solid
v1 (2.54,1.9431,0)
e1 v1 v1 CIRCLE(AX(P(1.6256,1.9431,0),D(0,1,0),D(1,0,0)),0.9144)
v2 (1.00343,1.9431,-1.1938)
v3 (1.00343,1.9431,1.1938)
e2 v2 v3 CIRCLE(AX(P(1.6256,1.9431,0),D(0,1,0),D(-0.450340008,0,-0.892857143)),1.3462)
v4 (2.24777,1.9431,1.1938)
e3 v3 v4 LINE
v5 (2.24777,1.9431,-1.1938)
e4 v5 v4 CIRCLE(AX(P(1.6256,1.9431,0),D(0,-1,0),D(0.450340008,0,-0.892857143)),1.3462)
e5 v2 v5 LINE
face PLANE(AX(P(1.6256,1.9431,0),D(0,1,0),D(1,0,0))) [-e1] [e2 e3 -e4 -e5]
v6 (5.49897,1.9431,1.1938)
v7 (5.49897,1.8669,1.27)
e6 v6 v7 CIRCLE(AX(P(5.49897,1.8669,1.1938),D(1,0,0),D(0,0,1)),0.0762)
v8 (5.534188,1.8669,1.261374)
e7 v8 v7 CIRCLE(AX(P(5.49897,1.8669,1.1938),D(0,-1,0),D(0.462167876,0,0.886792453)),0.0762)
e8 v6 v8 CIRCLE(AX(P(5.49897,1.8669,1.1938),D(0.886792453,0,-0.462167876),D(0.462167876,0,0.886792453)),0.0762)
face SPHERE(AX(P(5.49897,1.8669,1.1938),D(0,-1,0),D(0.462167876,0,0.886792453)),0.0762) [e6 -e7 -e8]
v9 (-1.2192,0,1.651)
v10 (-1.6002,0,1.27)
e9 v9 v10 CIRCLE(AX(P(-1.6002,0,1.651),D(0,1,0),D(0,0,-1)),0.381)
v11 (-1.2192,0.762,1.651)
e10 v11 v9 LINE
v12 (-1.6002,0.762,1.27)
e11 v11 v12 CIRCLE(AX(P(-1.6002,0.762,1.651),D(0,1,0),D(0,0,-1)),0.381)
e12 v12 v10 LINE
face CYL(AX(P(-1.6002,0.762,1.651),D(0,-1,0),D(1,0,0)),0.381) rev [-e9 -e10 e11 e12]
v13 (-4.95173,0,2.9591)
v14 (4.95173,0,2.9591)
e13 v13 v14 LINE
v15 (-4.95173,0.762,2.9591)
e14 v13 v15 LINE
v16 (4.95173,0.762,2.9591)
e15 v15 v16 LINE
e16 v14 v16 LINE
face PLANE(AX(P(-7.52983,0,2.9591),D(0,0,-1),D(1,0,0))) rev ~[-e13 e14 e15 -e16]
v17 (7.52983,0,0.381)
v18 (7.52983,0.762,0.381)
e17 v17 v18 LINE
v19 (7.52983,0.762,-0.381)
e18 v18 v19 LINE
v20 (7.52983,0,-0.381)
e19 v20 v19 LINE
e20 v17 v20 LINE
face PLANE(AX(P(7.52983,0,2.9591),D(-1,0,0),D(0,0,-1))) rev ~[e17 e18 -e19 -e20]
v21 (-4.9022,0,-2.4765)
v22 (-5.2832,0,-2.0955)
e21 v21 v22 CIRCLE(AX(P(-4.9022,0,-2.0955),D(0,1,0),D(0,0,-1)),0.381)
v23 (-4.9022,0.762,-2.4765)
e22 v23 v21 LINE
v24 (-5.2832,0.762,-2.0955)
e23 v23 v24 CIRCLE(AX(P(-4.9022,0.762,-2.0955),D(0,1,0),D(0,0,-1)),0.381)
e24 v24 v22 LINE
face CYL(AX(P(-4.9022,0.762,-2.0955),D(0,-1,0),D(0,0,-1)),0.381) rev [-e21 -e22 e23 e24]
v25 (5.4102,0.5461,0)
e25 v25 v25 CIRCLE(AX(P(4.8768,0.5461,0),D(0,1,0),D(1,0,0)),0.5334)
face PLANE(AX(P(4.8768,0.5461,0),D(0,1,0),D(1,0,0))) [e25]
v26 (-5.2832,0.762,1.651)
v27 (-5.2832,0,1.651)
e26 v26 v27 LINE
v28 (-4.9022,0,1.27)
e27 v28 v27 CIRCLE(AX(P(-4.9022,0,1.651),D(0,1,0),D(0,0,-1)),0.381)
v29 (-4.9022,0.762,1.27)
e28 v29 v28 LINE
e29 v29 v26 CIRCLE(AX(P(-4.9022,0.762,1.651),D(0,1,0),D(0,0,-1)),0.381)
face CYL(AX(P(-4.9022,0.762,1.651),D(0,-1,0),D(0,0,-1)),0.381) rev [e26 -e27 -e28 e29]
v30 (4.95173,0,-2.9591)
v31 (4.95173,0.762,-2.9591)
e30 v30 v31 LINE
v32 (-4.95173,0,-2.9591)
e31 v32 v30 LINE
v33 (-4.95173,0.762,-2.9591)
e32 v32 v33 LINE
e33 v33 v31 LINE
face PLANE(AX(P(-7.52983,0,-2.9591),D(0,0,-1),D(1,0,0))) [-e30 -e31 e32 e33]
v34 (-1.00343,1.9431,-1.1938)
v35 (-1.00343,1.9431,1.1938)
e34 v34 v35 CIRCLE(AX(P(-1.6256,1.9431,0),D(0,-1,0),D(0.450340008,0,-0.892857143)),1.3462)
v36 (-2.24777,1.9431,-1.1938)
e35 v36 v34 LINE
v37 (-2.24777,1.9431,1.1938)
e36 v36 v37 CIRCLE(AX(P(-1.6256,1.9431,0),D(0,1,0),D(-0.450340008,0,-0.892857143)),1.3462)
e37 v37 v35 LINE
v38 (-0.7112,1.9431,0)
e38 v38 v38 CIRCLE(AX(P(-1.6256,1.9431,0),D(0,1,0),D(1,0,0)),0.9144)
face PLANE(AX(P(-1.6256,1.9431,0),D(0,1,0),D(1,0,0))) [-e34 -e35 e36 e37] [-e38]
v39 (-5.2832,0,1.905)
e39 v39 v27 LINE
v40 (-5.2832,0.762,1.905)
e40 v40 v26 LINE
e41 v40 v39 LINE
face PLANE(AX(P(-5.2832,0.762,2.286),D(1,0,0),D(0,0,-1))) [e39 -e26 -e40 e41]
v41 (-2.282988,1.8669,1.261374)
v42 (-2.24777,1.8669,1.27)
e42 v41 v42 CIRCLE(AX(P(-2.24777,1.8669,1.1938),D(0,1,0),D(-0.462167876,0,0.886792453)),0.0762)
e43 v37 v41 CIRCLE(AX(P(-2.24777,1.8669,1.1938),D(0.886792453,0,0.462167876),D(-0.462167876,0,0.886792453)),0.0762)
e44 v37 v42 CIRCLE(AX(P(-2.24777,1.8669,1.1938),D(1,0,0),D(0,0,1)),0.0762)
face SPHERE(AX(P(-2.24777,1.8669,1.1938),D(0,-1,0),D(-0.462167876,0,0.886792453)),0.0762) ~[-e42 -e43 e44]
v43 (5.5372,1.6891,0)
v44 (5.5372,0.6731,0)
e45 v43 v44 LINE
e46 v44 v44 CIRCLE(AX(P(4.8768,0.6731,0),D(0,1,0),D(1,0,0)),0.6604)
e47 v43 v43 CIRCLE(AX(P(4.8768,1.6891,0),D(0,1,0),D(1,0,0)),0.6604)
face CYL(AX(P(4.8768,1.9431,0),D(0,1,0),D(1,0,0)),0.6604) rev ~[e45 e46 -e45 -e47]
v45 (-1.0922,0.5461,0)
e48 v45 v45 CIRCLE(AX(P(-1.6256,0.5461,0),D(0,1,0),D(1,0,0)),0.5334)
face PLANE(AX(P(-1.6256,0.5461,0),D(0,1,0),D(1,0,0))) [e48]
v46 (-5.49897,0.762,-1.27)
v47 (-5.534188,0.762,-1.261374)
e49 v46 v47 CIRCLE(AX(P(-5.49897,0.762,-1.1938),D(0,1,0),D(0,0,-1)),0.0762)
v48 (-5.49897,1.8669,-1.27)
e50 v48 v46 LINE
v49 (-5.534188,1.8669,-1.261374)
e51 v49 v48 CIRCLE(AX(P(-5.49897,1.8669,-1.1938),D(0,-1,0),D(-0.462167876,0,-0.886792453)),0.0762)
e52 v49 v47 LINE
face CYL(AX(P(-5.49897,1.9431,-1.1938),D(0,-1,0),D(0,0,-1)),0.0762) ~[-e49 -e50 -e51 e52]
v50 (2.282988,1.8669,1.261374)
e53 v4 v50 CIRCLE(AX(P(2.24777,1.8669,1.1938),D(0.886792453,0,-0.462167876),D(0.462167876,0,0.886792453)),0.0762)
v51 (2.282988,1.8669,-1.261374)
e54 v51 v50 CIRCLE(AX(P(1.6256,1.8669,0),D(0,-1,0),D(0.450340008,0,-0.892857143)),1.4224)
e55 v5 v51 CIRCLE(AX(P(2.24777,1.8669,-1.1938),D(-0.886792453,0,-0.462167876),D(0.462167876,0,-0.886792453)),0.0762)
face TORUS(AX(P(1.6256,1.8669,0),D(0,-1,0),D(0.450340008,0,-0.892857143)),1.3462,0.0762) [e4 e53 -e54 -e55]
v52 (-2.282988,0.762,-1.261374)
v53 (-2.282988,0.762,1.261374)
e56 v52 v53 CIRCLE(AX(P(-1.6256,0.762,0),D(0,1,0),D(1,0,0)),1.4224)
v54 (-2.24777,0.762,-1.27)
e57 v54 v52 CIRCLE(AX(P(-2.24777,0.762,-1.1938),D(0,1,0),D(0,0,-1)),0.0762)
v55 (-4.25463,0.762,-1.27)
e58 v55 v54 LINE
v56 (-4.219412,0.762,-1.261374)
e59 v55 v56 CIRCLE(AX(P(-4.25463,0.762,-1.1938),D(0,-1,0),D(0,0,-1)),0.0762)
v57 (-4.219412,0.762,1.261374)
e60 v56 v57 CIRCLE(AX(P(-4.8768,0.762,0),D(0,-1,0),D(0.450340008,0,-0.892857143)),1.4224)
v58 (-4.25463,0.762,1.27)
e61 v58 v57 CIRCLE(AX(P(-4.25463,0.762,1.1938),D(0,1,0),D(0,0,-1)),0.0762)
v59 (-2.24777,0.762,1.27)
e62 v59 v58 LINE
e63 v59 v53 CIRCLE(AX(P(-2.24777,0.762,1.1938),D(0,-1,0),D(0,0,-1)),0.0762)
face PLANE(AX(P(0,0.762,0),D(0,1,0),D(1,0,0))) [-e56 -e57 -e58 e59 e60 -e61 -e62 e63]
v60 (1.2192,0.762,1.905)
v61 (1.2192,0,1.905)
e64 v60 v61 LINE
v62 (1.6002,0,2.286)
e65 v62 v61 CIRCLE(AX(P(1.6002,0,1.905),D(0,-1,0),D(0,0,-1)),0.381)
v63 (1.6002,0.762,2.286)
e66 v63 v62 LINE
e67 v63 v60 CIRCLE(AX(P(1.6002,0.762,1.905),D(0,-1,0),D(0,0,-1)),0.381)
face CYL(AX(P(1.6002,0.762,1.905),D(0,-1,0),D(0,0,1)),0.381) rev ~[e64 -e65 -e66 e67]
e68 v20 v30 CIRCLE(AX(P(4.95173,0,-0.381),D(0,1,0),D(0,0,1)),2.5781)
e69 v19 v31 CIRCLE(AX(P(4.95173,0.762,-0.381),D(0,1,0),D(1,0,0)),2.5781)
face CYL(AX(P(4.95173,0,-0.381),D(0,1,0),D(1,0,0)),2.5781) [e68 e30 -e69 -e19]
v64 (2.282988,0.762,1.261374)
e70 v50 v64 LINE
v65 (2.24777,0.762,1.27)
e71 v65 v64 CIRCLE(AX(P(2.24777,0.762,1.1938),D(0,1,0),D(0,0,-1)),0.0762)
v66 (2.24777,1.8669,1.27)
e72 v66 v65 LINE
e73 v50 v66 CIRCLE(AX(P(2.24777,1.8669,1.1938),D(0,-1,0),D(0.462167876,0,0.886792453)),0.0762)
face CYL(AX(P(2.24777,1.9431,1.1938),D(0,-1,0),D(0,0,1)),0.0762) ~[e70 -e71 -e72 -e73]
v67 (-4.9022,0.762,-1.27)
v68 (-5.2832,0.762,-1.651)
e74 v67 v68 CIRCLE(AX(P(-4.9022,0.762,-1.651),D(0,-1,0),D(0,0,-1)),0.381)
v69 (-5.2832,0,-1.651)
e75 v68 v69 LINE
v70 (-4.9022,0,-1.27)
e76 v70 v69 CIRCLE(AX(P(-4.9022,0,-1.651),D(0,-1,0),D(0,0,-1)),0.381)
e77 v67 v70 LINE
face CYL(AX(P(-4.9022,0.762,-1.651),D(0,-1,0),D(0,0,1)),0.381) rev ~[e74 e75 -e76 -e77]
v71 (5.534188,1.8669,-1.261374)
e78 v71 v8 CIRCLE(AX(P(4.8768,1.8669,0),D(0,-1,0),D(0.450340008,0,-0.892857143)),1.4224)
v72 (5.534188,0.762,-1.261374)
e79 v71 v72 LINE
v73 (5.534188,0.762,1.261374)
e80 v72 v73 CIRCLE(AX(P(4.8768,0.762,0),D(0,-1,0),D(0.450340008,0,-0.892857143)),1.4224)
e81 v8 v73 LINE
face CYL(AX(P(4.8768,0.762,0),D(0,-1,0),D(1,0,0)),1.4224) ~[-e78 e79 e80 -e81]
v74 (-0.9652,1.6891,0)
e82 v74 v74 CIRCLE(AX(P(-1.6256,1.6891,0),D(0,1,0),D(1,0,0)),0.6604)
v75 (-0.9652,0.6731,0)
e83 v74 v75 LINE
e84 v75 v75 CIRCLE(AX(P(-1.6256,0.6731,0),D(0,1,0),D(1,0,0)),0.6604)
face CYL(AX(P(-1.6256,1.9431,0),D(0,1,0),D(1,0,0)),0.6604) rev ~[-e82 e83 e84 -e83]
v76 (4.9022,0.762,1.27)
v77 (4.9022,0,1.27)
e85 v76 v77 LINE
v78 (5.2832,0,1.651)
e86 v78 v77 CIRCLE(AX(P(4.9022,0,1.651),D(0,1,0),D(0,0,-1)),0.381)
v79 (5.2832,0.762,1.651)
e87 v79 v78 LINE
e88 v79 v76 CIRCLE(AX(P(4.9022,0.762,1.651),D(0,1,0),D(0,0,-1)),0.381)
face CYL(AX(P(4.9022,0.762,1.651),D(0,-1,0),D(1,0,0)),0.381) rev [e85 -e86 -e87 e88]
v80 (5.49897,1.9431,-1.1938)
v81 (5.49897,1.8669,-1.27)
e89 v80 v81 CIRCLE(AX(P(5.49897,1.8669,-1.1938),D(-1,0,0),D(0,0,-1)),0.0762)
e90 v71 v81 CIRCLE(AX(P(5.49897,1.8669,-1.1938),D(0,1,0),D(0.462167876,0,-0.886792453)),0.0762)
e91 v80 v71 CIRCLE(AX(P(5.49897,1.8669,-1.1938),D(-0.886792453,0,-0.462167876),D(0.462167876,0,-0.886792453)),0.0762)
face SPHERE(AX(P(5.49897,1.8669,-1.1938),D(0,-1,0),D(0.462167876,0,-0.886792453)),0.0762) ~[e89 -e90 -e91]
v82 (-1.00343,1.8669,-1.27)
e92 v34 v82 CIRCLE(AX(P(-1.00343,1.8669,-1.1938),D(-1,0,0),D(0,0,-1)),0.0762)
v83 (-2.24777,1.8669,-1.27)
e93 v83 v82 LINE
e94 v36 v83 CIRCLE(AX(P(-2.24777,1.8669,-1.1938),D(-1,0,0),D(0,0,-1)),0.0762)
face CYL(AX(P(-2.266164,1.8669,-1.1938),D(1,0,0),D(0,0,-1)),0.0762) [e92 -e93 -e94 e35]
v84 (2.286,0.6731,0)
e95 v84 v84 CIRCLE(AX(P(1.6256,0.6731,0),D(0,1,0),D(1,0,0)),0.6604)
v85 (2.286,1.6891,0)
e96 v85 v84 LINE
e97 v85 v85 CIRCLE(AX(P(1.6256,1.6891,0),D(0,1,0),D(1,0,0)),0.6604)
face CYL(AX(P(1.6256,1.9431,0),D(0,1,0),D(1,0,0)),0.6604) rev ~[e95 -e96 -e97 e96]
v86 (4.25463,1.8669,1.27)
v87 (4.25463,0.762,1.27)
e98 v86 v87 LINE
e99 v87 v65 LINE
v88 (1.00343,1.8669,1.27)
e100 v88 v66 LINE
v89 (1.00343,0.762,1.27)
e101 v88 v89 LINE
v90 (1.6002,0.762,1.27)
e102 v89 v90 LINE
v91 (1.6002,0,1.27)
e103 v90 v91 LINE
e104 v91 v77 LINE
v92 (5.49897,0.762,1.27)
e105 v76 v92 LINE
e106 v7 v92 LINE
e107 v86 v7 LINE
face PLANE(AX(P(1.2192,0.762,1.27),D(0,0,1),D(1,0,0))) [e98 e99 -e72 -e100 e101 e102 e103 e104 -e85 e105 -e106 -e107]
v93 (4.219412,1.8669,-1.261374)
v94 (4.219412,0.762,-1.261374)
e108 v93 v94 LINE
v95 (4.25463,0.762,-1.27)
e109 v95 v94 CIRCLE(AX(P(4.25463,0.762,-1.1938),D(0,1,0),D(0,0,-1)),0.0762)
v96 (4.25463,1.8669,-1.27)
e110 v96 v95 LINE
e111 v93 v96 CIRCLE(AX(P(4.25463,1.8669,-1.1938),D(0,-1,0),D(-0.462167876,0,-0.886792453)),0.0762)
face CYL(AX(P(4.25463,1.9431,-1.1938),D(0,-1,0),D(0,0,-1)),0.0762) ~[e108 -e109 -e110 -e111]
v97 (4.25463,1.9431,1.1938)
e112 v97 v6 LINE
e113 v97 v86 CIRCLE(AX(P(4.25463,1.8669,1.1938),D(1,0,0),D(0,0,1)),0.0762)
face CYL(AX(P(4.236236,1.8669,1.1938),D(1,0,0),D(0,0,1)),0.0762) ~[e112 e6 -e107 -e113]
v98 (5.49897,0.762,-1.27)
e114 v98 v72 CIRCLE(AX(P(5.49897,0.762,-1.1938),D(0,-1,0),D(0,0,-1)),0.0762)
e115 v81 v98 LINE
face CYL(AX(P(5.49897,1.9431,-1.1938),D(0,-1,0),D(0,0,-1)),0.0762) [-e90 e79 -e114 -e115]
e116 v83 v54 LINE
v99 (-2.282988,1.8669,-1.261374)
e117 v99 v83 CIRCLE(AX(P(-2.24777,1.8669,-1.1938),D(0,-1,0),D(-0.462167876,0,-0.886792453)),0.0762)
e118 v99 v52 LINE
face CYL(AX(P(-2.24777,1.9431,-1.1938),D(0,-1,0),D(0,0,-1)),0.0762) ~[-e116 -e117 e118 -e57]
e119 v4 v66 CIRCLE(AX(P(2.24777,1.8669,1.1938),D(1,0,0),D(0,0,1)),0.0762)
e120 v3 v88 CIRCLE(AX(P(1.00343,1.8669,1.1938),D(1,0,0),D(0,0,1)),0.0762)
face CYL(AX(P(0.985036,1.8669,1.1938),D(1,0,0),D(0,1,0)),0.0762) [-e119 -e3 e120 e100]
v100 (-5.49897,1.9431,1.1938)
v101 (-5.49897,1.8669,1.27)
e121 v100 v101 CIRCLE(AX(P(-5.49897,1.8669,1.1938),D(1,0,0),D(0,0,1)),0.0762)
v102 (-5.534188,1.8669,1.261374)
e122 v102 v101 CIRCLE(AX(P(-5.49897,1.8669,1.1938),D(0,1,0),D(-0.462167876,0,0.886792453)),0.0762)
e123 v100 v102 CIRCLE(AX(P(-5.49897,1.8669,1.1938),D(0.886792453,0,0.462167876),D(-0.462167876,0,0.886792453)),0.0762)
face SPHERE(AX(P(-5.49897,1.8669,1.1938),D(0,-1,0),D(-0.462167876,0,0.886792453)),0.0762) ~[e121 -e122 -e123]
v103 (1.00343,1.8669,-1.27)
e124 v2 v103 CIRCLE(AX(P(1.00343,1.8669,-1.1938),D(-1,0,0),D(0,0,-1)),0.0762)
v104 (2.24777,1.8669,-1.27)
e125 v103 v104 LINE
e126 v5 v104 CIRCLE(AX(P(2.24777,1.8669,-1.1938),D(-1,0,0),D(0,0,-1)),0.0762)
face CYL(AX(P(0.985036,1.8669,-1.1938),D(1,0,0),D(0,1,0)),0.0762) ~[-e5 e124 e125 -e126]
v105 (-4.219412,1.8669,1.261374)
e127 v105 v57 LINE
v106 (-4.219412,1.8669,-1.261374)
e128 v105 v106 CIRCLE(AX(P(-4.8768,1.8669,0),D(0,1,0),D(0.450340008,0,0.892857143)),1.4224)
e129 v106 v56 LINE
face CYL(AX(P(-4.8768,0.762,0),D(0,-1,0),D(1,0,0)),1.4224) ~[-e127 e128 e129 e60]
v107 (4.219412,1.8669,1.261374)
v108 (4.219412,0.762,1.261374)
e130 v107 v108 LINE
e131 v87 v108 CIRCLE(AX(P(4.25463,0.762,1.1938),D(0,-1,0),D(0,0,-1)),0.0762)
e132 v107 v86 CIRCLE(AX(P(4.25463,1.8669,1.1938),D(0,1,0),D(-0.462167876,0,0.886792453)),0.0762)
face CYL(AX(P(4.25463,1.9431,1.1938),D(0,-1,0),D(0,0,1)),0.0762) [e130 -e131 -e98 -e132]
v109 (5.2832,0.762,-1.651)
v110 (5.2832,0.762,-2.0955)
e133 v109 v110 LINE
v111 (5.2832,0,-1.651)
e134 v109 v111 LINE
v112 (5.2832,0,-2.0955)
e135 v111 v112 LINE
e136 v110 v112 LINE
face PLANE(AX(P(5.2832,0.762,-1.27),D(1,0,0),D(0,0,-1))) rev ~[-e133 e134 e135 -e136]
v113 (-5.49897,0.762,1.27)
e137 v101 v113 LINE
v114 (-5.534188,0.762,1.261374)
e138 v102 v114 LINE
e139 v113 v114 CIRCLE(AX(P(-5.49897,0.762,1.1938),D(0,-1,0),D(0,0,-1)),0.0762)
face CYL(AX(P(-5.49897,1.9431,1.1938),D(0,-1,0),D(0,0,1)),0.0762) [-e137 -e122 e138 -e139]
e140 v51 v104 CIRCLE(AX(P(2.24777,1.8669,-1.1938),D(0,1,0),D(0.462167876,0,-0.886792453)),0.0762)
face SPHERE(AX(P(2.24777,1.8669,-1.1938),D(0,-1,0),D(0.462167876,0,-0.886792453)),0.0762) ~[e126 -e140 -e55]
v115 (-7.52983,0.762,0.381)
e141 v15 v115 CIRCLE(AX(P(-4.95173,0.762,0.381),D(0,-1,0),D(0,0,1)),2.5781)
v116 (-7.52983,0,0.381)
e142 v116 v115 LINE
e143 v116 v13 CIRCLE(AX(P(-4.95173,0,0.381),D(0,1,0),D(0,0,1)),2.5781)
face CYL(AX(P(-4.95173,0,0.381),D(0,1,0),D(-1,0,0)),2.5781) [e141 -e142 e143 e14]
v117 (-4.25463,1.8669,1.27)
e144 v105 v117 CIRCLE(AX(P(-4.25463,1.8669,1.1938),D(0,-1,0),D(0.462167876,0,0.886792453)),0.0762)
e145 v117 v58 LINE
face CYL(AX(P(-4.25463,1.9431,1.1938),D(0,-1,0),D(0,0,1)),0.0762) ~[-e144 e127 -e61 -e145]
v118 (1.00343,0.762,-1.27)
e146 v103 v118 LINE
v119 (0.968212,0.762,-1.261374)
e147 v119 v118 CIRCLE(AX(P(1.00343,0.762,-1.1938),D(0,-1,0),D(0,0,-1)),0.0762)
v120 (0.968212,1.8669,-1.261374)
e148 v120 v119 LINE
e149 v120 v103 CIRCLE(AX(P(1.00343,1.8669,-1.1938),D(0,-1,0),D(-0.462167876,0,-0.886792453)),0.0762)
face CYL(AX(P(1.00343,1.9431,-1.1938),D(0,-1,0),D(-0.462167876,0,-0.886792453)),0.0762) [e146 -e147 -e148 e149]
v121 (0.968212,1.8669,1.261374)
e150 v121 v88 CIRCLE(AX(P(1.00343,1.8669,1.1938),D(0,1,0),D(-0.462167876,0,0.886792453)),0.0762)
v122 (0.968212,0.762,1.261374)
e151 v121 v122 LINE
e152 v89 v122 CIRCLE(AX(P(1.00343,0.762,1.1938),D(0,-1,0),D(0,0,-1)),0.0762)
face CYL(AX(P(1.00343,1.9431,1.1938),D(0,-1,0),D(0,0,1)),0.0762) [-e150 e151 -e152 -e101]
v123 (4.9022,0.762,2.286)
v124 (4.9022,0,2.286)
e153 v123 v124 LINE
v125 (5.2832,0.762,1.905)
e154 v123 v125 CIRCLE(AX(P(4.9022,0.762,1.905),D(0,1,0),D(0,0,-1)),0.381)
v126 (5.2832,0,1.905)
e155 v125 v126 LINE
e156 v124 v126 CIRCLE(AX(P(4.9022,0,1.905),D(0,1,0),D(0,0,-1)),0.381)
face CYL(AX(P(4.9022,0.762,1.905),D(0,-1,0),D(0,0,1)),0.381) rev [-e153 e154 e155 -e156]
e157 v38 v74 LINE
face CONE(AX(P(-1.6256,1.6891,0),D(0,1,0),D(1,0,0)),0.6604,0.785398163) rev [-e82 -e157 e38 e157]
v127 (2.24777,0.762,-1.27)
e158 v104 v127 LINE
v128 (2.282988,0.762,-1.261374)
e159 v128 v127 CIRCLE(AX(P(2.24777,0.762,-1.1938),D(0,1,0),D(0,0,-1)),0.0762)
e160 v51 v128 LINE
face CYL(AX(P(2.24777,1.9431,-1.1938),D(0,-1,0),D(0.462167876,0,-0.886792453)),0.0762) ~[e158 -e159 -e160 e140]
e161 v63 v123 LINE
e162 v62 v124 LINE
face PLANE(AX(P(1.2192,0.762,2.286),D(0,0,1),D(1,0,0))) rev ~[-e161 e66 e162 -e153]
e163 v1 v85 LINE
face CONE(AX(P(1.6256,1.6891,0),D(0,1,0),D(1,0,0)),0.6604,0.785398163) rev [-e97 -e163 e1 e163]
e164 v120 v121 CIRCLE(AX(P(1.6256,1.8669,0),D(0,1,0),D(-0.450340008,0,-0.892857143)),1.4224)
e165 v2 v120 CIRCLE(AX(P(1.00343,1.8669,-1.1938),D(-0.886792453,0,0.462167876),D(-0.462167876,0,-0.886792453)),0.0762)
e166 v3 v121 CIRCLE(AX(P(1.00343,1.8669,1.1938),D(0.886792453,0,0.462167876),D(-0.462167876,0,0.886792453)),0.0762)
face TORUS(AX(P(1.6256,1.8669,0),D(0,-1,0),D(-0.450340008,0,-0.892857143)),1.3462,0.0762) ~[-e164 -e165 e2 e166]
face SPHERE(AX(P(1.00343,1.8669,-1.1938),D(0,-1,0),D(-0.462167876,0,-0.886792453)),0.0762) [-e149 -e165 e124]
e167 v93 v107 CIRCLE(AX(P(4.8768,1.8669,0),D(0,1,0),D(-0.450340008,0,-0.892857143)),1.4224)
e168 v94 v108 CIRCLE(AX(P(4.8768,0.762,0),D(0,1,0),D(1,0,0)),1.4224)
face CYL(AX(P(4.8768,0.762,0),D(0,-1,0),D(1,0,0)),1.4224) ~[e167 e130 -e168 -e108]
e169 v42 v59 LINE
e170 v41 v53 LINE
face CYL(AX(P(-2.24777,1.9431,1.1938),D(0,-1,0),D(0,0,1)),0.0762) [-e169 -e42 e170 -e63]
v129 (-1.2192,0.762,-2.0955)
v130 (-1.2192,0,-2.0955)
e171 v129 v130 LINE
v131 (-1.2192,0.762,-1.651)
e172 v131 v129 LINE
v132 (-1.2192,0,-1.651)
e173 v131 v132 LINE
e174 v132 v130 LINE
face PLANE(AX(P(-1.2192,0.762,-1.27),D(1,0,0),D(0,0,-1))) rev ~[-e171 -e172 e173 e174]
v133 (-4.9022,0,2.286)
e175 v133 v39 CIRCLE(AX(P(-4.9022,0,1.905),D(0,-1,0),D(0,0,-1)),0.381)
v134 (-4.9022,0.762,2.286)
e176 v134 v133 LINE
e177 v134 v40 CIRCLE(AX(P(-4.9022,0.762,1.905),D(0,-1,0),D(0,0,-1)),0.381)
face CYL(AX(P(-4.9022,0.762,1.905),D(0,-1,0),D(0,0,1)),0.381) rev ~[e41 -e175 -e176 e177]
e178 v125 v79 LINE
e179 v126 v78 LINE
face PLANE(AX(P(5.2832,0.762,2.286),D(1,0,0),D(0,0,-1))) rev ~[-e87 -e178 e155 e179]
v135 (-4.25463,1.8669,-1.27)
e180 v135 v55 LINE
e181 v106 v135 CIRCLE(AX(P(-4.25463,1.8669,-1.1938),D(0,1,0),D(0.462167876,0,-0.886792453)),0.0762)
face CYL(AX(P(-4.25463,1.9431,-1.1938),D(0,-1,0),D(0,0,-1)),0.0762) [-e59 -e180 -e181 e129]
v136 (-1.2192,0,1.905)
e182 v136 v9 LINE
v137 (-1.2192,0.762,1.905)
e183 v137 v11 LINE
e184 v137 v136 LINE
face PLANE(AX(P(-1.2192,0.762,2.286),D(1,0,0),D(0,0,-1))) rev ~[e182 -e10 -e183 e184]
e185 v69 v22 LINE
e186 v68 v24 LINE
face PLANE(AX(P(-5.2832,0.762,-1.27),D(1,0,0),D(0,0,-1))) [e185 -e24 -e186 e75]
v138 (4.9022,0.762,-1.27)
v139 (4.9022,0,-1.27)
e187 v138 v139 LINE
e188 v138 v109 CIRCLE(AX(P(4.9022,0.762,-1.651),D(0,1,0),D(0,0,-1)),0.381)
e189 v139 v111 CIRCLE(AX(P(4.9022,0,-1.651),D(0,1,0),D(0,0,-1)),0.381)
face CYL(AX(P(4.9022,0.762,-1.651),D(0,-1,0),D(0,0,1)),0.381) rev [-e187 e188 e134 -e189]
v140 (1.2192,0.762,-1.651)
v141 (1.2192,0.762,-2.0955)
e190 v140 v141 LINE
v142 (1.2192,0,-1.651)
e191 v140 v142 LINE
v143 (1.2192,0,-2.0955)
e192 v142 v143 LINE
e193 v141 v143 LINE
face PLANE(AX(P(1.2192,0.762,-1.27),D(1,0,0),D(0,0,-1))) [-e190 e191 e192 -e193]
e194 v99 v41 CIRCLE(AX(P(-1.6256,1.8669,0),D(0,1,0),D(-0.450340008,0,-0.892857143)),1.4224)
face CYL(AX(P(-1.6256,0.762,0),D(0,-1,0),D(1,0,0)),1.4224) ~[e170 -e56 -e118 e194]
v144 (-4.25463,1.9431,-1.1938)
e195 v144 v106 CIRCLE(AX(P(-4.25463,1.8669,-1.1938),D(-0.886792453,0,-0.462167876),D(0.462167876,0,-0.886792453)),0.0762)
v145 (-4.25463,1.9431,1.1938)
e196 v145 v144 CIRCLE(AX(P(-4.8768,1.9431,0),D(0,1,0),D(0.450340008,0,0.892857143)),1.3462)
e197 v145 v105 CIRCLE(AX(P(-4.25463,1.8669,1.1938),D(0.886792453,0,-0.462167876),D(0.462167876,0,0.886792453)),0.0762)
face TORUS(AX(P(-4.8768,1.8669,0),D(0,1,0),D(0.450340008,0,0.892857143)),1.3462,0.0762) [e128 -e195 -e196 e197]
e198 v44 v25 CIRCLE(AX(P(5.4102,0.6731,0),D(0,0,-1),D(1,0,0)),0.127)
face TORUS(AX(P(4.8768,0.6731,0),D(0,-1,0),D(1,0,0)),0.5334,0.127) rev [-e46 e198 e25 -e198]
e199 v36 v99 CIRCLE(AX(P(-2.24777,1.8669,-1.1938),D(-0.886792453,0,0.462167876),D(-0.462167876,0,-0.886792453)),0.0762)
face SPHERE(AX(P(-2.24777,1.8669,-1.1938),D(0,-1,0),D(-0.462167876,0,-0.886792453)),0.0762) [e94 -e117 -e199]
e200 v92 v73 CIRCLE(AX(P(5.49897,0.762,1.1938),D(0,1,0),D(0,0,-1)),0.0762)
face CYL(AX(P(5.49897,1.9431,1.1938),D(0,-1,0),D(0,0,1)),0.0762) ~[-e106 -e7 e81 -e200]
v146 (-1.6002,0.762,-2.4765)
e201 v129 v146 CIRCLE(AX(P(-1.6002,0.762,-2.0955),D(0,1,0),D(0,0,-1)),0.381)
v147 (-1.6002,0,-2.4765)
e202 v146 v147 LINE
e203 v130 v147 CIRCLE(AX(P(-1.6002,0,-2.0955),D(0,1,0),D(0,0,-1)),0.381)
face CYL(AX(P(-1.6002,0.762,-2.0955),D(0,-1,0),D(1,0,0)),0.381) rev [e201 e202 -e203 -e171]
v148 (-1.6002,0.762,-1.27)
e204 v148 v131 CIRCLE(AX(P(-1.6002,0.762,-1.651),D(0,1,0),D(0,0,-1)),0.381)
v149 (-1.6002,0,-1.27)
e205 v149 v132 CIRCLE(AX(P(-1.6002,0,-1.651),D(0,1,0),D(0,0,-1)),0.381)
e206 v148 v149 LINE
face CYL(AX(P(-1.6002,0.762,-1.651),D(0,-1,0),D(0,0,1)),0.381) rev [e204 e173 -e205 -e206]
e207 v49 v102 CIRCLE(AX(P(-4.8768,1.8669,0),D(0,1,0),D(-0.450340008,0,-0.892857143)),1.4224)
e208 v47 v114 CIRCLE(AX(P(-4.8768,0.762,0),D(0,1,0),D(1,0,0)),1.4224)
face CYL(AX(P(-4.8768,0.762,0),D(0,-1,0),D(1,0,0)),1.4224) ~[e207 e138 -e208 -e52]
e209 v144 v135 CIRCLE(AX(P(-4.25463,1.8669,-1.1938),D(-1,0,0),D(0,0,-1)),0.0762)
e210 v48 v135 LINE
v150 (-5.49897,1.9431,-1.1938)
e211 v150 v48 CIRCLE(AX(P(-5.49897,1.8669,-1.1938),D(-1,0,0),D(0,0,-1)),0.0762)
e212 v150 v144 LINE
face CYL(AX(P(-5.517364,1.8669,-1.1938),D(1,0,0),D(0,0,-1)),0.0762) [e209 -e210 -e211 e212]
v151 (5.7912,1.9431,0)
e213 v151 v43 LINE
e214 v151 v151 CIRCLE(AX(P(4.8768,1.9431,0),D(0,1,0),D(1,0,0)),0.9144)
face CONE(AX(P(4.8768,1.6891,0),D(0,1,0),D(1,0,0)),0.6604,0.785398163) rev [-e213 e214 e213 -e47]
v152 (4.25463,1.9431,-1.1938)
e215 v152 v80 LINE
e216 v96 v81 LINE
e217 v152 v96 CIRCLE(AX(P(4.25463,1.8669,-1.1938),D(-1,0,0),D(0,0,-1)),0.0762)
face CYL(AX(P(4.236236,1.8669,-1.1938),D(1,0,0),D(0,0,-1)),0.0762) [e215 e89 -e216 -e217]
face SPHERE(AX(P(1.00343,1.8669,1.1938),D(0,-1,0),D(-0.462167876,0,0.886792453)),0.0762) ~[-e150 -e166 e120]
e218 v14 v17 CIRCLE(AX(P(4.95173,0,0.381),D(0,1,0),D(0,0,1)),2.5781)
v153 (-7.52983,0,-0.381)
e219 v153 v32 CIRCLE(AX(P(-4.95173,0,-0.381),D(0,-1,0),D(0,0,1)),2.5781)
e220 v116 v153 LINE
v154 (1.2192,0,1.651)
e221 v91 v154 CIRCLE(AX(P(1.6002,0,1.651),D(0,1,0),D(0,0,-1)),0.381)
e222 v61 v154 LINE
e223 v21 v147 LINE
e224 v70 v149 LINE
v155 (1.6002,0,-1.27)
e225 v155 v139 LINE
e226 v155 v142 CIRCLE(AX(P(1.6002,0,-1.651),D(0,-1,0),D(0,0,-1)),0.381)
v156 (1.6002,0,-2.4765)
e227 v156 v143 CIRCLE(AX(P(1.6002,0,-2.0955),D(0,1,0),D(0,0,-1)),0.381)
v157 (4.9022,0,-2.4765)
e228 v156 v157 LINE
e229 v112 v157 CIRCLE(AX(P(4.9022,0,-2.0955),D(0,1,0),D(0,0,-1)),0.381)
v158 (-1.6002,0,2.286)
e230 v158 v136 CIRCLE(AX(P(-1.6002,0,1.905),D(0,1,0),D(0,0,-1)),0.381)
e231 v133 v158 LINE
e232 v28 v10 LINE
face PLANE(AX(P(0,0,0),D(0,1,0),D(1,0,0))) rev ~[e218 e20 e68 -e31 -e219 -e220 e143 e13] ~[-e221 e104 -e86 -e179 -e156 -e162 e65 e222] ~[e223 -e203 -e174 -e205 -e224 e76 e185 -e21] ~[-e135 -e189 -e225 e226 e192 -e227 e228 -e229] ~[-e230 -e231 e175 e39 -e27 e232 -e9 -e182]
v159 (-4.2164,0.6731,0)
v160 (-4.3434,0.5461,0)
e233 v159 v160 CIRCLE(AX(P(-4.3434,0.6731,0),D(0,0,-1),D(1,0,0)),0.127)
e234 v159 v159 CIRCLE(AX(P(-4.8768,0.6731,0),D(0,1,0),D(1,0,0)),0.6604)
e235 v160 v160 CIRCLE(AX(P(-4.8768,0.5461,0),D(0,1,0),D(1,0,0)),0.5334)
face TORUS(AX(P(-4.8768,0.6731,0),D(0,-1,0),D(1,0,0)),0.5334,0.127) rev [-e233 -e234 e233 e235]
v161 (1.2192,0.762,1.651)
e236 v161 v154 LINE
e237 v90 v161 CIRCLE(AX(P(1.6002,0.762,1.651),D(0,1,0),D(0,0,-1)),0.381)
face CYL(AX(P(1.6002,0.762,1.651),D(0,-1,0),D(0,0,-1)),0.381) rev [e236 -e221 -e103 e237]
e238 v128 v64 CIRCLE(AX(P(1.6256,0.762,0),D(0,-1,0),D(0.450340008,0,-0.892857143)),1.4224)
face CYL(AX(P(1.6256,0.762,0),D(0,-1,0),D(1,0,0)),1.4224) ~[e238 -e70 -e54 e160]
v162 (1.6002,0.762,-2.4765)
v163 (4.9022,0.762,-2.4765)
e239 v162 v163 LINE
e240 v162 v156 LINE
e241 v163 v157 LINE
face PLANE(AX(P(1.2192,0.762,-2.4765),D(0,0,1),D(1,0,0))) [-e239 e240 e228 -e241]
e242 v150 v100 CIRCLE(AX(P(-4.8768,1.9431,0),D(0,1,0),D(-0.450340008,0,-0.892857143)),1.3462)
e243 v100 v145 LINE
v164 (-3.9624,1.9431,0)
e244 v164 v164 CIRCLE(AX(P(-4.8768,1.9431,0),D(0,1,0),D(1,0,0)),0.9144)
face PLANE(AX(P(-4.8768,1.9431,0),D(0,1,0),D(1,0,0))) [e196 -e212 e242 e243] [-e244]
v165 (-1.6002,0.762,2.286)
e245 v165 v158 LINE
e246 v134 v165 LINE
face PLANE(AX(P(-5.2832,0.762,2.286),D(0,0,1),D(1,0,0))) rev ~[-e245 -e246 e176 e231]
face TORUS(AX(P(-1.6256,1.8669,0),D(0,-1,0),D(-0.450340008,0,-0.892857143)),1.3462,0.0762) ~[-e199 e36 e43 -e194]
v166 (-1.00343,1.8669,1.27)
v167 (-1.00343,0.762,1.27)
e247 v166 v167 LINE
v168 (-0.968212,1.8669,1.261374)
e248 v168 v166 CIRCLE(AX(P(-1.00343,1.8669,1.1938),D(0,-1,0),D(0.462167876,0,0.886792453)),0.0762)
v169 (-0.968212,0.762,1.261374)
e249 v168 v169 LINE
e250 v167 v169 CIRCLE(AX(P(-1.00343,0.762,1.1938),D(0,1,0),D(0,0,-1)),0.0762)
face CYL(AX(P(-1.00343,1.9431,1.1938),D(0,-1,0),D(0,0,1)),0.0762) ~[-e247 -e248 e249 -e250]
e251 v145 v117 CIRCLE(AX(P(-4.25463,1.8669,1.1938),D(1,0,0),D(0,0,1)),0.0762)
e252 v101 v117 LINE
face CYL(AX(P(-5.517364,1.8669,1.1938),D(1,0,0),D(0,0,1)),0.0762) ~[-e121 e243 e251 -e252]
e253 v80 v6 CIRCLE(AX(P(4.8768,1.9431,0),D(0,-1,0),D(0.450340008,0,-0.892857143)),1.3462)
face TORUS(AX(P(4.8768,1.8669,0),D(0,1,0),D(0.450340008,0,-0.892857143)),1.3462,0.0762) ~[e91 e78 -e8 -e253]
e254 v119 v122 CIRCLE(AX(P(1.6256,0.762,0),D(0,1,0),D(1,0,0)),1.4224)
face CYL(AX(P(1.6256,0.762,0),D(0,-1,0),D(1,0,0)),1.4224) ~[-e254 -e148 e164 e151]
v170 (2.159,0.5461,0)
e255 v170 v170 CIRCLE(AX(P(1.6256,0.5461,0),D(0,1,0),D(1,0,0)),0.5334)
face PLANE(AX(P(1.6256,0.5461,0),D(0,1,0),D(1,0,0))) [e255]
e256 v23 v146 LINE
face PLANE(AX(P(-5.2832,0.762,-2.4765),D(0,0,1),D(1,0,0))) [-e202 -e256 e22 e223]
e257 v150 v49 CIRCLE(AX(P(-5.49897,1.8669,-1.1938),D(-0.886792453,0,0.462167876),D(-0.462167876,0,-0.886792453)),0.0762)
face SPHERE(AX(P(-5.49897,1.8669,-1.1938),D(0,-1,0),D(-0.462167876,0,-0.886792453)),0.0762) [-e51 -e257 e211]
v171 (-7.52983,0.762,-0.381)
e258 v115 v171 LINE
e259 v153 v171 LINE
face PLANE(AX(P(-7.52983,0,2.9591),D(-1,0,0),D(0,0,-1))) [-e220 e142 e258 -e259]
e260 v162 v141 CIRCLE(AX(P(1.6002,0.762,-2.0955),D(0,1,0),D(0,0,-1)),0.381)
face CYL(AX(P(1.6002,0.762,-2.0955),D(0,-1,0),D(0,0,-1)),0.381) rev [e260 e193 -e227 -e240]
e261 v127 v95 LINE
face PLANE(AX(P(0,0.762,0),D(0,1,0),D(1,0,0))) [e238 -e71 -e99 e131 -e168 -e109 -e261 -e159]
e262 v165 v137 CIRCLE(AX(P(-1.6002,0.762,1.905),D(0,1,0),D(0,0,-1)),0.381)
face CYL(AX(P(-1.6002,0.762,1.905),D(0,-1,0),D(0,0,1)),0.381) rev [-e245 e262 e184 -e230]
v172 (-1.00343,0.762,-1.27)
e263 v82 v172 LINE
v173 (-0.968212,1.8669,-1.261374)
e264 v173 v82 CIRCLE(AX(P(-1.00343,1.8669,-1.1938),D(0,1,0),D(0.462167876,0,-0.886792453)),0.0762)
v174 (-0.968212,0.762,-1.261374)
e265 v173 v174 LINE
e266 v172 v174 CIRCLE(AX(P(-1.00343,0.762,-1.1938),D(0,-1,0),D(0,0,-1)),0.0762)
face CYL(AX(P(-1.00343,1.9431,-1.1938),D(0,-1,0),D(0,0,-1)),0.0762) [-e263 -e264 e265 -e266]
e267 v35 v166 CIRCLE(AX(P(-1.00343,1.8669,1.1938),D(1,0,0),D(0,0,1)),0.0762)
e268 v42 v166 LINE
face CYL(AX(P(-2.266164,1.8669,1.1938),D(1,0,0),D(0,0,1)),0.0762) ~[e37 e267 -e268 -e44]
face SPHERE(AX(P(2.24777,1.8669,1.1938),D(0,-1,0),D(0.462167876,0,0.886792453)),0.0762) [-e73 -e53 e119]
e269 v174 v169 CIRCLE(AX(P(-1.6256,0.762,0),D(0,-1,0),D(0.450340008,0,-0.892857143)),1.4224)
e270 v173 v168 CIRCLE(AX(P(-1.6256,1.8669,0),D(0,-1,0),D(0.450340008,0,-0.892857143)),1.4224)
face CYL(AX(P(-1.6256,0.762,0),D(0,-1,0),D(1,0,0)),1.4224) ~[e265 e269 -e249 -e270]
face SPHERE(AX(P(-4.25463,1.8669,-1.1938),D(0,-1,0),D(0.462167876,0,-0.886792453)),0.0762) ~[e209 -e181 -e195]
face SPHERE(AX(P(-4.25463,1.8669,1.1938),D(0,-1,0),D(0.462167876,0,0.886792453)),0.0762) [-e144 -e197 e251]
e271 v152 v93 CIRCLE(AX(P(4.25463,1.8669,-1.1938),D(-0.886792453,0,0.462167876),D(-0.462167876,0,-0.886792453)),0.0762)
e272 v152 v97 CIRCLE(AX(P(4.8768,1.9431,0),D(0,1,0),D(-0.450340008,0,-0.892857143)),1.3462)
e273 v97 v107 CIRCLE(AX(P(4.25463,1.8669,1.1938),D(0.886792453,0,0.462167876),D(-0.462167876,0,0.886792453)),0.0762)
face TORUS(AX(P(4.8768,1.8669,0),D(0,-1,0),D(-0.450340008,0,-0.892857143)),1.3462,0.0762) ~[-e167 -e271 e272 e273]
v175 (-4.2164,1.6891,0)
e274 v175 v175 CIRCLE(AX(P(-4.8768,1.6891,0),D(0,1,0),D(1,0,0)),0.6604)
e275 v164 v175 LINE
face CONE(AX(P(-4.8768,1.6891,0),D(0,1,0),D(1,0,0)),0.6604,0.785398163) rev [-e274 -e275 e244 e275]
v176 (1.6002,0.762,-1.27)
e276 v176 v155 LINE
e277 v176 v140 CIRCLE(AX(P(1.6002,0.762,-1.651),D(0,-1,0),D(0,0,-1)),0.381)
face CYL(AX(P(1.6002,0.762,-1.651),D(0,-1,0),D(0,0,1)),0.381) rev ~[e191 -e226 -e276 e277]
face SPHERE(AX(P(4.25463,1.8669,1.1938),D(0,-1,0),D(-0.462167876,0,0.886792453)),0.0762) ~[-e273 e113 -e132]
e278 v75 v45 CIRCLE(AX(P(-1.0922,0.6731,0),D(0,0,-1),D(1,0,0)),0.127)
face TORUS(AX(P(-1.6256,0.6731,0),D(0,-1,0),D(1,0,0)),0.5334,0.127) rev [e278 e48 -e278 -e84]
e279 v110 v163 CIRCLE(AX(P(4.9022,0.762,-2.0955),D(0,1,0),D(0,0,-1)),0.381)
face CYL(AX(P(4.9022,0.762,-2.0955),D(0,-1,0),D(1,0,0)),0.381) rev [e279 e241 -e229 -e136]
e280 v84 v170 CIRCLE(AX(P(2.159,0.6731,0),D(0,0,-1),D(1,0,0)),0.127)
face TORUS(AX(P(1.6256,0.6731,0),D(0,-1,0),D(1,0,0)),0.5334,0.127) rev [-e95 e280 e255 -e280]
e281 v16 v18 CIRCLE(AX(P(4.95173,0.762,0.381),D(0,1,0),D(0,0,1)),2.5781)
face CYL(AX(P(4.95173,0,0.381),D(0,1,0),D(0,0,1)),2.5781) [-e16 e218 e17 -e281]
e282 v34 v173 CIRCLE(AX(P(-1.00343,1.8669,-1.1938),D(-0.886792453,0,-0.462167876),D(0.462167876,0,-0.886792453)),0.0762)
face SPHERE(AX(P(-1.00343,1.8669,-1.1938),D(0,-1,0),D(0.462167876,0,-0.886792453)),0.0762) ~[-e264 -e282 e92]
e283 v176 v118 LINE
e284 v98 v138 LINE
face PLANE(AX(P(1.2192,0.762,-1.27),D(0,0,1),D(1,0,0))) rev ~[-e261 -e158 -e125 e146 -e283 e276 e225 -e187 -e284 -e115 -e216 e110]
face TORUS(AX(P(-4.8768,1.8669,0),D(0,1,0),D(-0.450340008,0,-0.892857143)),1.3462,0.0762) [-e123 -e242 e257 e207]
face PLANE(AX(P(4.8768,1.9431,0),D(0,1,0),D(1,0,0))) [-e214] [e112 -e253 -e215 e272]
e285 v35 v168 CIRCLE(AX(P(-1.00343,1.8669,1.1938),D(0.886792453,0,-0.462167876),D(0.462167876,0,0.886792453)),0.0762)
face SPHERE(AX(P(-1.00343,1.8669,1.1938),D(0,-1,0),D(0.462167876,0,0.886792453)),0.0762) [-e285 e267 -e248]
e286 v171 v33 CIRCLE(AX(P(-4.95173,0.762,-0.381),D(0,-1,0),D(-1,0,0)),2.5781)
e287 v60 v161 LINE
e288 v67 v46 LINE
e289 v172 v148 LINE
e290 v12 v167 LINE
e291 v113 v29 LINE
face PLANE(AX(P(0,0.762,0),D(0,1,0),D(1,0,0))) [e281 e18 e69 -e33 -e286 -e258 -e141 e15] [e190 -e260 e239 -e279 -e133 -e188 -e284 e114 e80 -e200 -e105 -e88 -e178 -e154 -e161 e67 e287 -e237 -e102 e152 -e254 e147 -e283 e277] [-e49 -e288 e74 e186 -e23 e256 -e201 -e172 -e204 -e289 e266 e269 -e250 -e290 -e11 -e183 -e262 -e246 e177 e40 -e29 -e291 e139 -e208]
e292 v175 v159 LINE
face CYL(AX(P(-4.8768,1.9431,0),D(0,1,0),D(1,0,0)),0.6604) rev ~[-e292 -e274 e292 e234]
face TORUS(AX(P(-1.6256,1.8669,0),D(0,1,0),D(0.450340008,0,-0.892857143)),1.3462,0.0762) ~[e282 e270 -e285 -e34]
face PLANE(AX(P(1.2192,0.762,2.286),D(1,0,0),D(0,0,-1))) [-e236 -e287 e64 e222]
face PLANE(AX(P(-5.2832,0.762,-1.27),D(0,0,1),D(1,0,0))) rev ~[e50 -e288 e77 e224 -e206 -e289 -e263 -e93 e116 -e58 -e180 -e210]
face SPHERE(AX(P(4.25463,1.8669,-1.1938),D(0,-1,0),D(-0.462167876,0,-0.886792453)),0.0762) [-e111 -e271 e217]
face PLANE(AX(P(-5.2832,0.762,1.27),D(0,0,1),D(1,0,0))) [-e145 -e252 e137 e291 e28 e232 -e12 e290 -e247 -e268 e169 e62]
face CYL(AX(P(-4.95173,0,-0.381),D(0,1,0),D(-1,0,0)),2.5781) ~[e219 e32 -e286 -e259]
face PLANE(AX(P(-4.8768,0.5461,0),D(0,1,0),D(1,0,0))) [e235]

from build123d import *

# Parameters (mm, degrees)
SKETCH1_W           = 15.05966
SKETCH1_H           = 5.9182
BOSS_EXTRUDE1_DEPTH = 0.762
FILLET1_R           = 2.5781
SKETCH2_R           = 1.4224
BOSS_EXTRUDE2_DEPTH = 1.1811
SKETCH3_W           = 15.05966
SKETCH3_H           = 4.599336766
CUT_EXTRUDE1_DEPTH  = 1.1811
SKETCH4_R           = 0.6604
CUT_EXTRUDE2_DEPTH  = 1.397
SKETCH5_W           = 4.064
SKETCH5_H           = 1.2065
SKETCH5_H_2         = 1.016
CUT_EXTRUDE3_DEPTH  = 1.762
FILLET2_R           = 0.381
CHAMFER1_SIZE       = 0.254
FILLET3_R           = 0.127
FILLET4_R           = 0.0762


with BuildPart() as part:
    # Sketch1 → Boss-Extrude1 (new body)
    with BuildSketch(Plane(origin=(0, 0, 0), x_dir=(1, 0, 0), z_dir=(0, 1, 0))):
        Rectangle(SKETCH1_W, SKETCH1_H)
    extrude(amount=BOSS_EXTRUDE1_DEPTH)

    # Fillet1
    fillet1_edges = [part.edges().sort_by_distance(p)[0] for p in [
        (-7.52983, 0.381, -2.9591),
        (7.52983, 0.381, -2.9591),
        (7.52983, 0.381, 2.9591),
        (-7.52983, 0.381, 2.9591),
    ]]
    fillet(fillet1_edges, radius=FILLET1_R)

    # Sketch2 → Boss-Extrude2 (add)
    with BuildSketch(Plane(origin=(0, 0.762, 0), x_dir=(1, 0, 0), z_dir=(0, 1, 0))):
        with Locations((-4.8768, 0)):
            Circle(SKETCH2_R)
        with Locations((-1.6256, 0)):
            Circle(SKETCH2_R)
        with Locations((1.6256, 0)):
            Circle(SKETCH2_R)
        with Locations((4.8768, 0)):
            Circle(SKETCH2_R)
    extrude(amount=BOSS_EXTRUDE2_DEPTH)

    # Sketch3 → Cut-Extrude1 (cut)
    with BuildSketch(Plane(origin=(0, 1.9431, 0), x_dir=(1, 0, 0), z_dir=(0, 1, 0))):
        with Locations((0, 3.569668383)):
            Rectangle(SKETCH3_W, SKETCH3_H)
        with Locations((0, -3.569668383)):
            Rectangle(SKETCH3_W, SKETCH3_H)
    extrude(amount=-CUT_EXTRUDE1_DEPTH, mode=Mode.SUBTRACT)

    # Sketch4 → Cut-Extrude2 (cut)
    with BuildSketch(Plane(origin=(0, 1.9431, 0), x_dir=(1, 0, 0), z_dir=(0, 1, 0))):
        with Locations((-4.8768, 0)):
            Circle(SKETCH4_R)
        with Locations((-1.6256, 0)):
            Circle(SKETCH4_R)
        with Locations((1.6256, 0)):
            Circle(SKETCH4_R)
        with Locations((4.8768, 0)):
            Circle(SKETCH4_R)
    extrude(amount=-CUT_EXTRUDE2_DEPTH, mode=Mode.SUBTRACT)

    # Sketch5 → Cut-Extrude3 (cut, through all)
    with BuildSketch(Plane(origin=(0, 0.762, 0), x_dir=(1, 0, 0), z_dir=(0, 1, 0))):
        with Locations((-3.2512, 1.87325)):
            Rectangle(SKETCH5_W, SKETCH5_H)
        with Locations((-3.2512, -1.778)):
            Rectangle(SKETCH5_W, SKETCH5_H_2)
        with Locations((3.2512, -1.778)):
            Rectangle(SKETCH5_W, SKETCH5_H_2)
        with Locations((3.2512, 1.87325)):
            Rectangle(SKETCH5_W, SKETCH5_H)
    extrude(amount=-CUT_EXTRUDE3_DEPTH, mode=Mode.SUBTRACT)

    # Fillet2
    fillet2_edges = [part.edges().sort_by_distance(p)[0] for p in [
        (-5.2832, 0.381, -1.27),
        (-5.2832, 0.381, -2.4765),
        (-1.2192, 0.381, -2.4765),
        (-1.2192, 0.381, -1.27),
        (-5.2832, 0.381, 2.286),
        (-5.2832, 0.381, 1.27),
        (-1.2192, 0.381, 1.27),
        (-1.2192, 0.381, 2.286),
        (1.2192, 0.381, 1.27),
        (5.2832, 0.381, 1.27),
        (5.2832, 0.381, 2.286),
        (1.2192, 0.381, 2.286),
        (1.2192, 0.381, -2.4765),
        (5.2832, 0.381, -2.4765),
        (5.2832, 0.381, -1.27),
        (1.2192, 0.381, -1.27),
    ]]
    fillet(fillet2_edges, radius=FILLET2_R)

    # Chamfer1
    chamfer1_edges = [part.edges().sort_by_distance(p)[0] for p in [
        (-5.5372, 1.9431, 0),
        (-2.286, 1.9431, 0),
        (0.9652, 1.9431, 0),
        (4.2164, 1.9431, 0),
    ]]
    chamfer(chamfer1_edges, length=CHAMFER1_SIZE)

    # Fillet3
    fillet3_edges = [part.edges().sort_by_distance(p)[0] for p in [
        (-5.5372, 0.5461, 0),
        (-2.286, 0.5461, 0),
        (0.9652, 0.5461, 0),
        (4.2164, 0.5461, 0),
    ]]
    fillet(fillet3_edges, radius=FILLET3_R)

    # Fillet4
    fillet4_edges = [part.edges().sort_by_distance(p)[0] for p in [
        (-4.8768, 1.9431, 1.27),
        (-1.6256, 1.9431, 1.27),
        (1.6256, 1.9431, 1.27),
        (-4.236236373, 1.35255, 1.27),
        (-5.517363627, 1.35255, 1.27),
        (-0.985036373, 1.35255, 1.27),
        (-2.266163627, 1.35255, 1.27),
        (2.266163627, 1.35255, 1.27),
        (0.985036373, 1.35255, 1.27),
        (5.517363627, 1.35255, 1.27),
        (4.236236373, 1.35255, 1.27),
        (0.2032, 1.9431, 0),
        (3.4544, 1.9431, 0),
        (4.8768, 1.9431, -1.27),
        (-3.048, 1.9431, 0),
        (-6.2992, 1.9431, 0),
        (-4.8768, 1.9431, -1.27),
        (-1.6256, 1.9431, -1.27),
        (1.6256, 1.9431, -1.27),
        (-5.517363627, 1.35255, -1.27),
        (-4.236236373, 1.35255, -1.27),
        (-2.266163627, 1.35255, -1.27),
        (-0.985036373, 1.35255, -1.27),
        (0.985036373, 1.35255, -1.27),
        (2.266163627, 1.35255, -1.27),
        (4.236236373, 1.35255, -1.27),
        (5.517363627, 1.35255, -1.27),
        (6.2992, 1.9431, 0),
        (4.8768, 1.9431, 1.27),
        (3.048, 1.9431, 0),
        (-0.2032, 1.9431, 0),
        (-3.4544, 1.9431, 0),
    ]]
    fillet(fillet4_edges, radius=FILLET4_R)


solid = part.part
